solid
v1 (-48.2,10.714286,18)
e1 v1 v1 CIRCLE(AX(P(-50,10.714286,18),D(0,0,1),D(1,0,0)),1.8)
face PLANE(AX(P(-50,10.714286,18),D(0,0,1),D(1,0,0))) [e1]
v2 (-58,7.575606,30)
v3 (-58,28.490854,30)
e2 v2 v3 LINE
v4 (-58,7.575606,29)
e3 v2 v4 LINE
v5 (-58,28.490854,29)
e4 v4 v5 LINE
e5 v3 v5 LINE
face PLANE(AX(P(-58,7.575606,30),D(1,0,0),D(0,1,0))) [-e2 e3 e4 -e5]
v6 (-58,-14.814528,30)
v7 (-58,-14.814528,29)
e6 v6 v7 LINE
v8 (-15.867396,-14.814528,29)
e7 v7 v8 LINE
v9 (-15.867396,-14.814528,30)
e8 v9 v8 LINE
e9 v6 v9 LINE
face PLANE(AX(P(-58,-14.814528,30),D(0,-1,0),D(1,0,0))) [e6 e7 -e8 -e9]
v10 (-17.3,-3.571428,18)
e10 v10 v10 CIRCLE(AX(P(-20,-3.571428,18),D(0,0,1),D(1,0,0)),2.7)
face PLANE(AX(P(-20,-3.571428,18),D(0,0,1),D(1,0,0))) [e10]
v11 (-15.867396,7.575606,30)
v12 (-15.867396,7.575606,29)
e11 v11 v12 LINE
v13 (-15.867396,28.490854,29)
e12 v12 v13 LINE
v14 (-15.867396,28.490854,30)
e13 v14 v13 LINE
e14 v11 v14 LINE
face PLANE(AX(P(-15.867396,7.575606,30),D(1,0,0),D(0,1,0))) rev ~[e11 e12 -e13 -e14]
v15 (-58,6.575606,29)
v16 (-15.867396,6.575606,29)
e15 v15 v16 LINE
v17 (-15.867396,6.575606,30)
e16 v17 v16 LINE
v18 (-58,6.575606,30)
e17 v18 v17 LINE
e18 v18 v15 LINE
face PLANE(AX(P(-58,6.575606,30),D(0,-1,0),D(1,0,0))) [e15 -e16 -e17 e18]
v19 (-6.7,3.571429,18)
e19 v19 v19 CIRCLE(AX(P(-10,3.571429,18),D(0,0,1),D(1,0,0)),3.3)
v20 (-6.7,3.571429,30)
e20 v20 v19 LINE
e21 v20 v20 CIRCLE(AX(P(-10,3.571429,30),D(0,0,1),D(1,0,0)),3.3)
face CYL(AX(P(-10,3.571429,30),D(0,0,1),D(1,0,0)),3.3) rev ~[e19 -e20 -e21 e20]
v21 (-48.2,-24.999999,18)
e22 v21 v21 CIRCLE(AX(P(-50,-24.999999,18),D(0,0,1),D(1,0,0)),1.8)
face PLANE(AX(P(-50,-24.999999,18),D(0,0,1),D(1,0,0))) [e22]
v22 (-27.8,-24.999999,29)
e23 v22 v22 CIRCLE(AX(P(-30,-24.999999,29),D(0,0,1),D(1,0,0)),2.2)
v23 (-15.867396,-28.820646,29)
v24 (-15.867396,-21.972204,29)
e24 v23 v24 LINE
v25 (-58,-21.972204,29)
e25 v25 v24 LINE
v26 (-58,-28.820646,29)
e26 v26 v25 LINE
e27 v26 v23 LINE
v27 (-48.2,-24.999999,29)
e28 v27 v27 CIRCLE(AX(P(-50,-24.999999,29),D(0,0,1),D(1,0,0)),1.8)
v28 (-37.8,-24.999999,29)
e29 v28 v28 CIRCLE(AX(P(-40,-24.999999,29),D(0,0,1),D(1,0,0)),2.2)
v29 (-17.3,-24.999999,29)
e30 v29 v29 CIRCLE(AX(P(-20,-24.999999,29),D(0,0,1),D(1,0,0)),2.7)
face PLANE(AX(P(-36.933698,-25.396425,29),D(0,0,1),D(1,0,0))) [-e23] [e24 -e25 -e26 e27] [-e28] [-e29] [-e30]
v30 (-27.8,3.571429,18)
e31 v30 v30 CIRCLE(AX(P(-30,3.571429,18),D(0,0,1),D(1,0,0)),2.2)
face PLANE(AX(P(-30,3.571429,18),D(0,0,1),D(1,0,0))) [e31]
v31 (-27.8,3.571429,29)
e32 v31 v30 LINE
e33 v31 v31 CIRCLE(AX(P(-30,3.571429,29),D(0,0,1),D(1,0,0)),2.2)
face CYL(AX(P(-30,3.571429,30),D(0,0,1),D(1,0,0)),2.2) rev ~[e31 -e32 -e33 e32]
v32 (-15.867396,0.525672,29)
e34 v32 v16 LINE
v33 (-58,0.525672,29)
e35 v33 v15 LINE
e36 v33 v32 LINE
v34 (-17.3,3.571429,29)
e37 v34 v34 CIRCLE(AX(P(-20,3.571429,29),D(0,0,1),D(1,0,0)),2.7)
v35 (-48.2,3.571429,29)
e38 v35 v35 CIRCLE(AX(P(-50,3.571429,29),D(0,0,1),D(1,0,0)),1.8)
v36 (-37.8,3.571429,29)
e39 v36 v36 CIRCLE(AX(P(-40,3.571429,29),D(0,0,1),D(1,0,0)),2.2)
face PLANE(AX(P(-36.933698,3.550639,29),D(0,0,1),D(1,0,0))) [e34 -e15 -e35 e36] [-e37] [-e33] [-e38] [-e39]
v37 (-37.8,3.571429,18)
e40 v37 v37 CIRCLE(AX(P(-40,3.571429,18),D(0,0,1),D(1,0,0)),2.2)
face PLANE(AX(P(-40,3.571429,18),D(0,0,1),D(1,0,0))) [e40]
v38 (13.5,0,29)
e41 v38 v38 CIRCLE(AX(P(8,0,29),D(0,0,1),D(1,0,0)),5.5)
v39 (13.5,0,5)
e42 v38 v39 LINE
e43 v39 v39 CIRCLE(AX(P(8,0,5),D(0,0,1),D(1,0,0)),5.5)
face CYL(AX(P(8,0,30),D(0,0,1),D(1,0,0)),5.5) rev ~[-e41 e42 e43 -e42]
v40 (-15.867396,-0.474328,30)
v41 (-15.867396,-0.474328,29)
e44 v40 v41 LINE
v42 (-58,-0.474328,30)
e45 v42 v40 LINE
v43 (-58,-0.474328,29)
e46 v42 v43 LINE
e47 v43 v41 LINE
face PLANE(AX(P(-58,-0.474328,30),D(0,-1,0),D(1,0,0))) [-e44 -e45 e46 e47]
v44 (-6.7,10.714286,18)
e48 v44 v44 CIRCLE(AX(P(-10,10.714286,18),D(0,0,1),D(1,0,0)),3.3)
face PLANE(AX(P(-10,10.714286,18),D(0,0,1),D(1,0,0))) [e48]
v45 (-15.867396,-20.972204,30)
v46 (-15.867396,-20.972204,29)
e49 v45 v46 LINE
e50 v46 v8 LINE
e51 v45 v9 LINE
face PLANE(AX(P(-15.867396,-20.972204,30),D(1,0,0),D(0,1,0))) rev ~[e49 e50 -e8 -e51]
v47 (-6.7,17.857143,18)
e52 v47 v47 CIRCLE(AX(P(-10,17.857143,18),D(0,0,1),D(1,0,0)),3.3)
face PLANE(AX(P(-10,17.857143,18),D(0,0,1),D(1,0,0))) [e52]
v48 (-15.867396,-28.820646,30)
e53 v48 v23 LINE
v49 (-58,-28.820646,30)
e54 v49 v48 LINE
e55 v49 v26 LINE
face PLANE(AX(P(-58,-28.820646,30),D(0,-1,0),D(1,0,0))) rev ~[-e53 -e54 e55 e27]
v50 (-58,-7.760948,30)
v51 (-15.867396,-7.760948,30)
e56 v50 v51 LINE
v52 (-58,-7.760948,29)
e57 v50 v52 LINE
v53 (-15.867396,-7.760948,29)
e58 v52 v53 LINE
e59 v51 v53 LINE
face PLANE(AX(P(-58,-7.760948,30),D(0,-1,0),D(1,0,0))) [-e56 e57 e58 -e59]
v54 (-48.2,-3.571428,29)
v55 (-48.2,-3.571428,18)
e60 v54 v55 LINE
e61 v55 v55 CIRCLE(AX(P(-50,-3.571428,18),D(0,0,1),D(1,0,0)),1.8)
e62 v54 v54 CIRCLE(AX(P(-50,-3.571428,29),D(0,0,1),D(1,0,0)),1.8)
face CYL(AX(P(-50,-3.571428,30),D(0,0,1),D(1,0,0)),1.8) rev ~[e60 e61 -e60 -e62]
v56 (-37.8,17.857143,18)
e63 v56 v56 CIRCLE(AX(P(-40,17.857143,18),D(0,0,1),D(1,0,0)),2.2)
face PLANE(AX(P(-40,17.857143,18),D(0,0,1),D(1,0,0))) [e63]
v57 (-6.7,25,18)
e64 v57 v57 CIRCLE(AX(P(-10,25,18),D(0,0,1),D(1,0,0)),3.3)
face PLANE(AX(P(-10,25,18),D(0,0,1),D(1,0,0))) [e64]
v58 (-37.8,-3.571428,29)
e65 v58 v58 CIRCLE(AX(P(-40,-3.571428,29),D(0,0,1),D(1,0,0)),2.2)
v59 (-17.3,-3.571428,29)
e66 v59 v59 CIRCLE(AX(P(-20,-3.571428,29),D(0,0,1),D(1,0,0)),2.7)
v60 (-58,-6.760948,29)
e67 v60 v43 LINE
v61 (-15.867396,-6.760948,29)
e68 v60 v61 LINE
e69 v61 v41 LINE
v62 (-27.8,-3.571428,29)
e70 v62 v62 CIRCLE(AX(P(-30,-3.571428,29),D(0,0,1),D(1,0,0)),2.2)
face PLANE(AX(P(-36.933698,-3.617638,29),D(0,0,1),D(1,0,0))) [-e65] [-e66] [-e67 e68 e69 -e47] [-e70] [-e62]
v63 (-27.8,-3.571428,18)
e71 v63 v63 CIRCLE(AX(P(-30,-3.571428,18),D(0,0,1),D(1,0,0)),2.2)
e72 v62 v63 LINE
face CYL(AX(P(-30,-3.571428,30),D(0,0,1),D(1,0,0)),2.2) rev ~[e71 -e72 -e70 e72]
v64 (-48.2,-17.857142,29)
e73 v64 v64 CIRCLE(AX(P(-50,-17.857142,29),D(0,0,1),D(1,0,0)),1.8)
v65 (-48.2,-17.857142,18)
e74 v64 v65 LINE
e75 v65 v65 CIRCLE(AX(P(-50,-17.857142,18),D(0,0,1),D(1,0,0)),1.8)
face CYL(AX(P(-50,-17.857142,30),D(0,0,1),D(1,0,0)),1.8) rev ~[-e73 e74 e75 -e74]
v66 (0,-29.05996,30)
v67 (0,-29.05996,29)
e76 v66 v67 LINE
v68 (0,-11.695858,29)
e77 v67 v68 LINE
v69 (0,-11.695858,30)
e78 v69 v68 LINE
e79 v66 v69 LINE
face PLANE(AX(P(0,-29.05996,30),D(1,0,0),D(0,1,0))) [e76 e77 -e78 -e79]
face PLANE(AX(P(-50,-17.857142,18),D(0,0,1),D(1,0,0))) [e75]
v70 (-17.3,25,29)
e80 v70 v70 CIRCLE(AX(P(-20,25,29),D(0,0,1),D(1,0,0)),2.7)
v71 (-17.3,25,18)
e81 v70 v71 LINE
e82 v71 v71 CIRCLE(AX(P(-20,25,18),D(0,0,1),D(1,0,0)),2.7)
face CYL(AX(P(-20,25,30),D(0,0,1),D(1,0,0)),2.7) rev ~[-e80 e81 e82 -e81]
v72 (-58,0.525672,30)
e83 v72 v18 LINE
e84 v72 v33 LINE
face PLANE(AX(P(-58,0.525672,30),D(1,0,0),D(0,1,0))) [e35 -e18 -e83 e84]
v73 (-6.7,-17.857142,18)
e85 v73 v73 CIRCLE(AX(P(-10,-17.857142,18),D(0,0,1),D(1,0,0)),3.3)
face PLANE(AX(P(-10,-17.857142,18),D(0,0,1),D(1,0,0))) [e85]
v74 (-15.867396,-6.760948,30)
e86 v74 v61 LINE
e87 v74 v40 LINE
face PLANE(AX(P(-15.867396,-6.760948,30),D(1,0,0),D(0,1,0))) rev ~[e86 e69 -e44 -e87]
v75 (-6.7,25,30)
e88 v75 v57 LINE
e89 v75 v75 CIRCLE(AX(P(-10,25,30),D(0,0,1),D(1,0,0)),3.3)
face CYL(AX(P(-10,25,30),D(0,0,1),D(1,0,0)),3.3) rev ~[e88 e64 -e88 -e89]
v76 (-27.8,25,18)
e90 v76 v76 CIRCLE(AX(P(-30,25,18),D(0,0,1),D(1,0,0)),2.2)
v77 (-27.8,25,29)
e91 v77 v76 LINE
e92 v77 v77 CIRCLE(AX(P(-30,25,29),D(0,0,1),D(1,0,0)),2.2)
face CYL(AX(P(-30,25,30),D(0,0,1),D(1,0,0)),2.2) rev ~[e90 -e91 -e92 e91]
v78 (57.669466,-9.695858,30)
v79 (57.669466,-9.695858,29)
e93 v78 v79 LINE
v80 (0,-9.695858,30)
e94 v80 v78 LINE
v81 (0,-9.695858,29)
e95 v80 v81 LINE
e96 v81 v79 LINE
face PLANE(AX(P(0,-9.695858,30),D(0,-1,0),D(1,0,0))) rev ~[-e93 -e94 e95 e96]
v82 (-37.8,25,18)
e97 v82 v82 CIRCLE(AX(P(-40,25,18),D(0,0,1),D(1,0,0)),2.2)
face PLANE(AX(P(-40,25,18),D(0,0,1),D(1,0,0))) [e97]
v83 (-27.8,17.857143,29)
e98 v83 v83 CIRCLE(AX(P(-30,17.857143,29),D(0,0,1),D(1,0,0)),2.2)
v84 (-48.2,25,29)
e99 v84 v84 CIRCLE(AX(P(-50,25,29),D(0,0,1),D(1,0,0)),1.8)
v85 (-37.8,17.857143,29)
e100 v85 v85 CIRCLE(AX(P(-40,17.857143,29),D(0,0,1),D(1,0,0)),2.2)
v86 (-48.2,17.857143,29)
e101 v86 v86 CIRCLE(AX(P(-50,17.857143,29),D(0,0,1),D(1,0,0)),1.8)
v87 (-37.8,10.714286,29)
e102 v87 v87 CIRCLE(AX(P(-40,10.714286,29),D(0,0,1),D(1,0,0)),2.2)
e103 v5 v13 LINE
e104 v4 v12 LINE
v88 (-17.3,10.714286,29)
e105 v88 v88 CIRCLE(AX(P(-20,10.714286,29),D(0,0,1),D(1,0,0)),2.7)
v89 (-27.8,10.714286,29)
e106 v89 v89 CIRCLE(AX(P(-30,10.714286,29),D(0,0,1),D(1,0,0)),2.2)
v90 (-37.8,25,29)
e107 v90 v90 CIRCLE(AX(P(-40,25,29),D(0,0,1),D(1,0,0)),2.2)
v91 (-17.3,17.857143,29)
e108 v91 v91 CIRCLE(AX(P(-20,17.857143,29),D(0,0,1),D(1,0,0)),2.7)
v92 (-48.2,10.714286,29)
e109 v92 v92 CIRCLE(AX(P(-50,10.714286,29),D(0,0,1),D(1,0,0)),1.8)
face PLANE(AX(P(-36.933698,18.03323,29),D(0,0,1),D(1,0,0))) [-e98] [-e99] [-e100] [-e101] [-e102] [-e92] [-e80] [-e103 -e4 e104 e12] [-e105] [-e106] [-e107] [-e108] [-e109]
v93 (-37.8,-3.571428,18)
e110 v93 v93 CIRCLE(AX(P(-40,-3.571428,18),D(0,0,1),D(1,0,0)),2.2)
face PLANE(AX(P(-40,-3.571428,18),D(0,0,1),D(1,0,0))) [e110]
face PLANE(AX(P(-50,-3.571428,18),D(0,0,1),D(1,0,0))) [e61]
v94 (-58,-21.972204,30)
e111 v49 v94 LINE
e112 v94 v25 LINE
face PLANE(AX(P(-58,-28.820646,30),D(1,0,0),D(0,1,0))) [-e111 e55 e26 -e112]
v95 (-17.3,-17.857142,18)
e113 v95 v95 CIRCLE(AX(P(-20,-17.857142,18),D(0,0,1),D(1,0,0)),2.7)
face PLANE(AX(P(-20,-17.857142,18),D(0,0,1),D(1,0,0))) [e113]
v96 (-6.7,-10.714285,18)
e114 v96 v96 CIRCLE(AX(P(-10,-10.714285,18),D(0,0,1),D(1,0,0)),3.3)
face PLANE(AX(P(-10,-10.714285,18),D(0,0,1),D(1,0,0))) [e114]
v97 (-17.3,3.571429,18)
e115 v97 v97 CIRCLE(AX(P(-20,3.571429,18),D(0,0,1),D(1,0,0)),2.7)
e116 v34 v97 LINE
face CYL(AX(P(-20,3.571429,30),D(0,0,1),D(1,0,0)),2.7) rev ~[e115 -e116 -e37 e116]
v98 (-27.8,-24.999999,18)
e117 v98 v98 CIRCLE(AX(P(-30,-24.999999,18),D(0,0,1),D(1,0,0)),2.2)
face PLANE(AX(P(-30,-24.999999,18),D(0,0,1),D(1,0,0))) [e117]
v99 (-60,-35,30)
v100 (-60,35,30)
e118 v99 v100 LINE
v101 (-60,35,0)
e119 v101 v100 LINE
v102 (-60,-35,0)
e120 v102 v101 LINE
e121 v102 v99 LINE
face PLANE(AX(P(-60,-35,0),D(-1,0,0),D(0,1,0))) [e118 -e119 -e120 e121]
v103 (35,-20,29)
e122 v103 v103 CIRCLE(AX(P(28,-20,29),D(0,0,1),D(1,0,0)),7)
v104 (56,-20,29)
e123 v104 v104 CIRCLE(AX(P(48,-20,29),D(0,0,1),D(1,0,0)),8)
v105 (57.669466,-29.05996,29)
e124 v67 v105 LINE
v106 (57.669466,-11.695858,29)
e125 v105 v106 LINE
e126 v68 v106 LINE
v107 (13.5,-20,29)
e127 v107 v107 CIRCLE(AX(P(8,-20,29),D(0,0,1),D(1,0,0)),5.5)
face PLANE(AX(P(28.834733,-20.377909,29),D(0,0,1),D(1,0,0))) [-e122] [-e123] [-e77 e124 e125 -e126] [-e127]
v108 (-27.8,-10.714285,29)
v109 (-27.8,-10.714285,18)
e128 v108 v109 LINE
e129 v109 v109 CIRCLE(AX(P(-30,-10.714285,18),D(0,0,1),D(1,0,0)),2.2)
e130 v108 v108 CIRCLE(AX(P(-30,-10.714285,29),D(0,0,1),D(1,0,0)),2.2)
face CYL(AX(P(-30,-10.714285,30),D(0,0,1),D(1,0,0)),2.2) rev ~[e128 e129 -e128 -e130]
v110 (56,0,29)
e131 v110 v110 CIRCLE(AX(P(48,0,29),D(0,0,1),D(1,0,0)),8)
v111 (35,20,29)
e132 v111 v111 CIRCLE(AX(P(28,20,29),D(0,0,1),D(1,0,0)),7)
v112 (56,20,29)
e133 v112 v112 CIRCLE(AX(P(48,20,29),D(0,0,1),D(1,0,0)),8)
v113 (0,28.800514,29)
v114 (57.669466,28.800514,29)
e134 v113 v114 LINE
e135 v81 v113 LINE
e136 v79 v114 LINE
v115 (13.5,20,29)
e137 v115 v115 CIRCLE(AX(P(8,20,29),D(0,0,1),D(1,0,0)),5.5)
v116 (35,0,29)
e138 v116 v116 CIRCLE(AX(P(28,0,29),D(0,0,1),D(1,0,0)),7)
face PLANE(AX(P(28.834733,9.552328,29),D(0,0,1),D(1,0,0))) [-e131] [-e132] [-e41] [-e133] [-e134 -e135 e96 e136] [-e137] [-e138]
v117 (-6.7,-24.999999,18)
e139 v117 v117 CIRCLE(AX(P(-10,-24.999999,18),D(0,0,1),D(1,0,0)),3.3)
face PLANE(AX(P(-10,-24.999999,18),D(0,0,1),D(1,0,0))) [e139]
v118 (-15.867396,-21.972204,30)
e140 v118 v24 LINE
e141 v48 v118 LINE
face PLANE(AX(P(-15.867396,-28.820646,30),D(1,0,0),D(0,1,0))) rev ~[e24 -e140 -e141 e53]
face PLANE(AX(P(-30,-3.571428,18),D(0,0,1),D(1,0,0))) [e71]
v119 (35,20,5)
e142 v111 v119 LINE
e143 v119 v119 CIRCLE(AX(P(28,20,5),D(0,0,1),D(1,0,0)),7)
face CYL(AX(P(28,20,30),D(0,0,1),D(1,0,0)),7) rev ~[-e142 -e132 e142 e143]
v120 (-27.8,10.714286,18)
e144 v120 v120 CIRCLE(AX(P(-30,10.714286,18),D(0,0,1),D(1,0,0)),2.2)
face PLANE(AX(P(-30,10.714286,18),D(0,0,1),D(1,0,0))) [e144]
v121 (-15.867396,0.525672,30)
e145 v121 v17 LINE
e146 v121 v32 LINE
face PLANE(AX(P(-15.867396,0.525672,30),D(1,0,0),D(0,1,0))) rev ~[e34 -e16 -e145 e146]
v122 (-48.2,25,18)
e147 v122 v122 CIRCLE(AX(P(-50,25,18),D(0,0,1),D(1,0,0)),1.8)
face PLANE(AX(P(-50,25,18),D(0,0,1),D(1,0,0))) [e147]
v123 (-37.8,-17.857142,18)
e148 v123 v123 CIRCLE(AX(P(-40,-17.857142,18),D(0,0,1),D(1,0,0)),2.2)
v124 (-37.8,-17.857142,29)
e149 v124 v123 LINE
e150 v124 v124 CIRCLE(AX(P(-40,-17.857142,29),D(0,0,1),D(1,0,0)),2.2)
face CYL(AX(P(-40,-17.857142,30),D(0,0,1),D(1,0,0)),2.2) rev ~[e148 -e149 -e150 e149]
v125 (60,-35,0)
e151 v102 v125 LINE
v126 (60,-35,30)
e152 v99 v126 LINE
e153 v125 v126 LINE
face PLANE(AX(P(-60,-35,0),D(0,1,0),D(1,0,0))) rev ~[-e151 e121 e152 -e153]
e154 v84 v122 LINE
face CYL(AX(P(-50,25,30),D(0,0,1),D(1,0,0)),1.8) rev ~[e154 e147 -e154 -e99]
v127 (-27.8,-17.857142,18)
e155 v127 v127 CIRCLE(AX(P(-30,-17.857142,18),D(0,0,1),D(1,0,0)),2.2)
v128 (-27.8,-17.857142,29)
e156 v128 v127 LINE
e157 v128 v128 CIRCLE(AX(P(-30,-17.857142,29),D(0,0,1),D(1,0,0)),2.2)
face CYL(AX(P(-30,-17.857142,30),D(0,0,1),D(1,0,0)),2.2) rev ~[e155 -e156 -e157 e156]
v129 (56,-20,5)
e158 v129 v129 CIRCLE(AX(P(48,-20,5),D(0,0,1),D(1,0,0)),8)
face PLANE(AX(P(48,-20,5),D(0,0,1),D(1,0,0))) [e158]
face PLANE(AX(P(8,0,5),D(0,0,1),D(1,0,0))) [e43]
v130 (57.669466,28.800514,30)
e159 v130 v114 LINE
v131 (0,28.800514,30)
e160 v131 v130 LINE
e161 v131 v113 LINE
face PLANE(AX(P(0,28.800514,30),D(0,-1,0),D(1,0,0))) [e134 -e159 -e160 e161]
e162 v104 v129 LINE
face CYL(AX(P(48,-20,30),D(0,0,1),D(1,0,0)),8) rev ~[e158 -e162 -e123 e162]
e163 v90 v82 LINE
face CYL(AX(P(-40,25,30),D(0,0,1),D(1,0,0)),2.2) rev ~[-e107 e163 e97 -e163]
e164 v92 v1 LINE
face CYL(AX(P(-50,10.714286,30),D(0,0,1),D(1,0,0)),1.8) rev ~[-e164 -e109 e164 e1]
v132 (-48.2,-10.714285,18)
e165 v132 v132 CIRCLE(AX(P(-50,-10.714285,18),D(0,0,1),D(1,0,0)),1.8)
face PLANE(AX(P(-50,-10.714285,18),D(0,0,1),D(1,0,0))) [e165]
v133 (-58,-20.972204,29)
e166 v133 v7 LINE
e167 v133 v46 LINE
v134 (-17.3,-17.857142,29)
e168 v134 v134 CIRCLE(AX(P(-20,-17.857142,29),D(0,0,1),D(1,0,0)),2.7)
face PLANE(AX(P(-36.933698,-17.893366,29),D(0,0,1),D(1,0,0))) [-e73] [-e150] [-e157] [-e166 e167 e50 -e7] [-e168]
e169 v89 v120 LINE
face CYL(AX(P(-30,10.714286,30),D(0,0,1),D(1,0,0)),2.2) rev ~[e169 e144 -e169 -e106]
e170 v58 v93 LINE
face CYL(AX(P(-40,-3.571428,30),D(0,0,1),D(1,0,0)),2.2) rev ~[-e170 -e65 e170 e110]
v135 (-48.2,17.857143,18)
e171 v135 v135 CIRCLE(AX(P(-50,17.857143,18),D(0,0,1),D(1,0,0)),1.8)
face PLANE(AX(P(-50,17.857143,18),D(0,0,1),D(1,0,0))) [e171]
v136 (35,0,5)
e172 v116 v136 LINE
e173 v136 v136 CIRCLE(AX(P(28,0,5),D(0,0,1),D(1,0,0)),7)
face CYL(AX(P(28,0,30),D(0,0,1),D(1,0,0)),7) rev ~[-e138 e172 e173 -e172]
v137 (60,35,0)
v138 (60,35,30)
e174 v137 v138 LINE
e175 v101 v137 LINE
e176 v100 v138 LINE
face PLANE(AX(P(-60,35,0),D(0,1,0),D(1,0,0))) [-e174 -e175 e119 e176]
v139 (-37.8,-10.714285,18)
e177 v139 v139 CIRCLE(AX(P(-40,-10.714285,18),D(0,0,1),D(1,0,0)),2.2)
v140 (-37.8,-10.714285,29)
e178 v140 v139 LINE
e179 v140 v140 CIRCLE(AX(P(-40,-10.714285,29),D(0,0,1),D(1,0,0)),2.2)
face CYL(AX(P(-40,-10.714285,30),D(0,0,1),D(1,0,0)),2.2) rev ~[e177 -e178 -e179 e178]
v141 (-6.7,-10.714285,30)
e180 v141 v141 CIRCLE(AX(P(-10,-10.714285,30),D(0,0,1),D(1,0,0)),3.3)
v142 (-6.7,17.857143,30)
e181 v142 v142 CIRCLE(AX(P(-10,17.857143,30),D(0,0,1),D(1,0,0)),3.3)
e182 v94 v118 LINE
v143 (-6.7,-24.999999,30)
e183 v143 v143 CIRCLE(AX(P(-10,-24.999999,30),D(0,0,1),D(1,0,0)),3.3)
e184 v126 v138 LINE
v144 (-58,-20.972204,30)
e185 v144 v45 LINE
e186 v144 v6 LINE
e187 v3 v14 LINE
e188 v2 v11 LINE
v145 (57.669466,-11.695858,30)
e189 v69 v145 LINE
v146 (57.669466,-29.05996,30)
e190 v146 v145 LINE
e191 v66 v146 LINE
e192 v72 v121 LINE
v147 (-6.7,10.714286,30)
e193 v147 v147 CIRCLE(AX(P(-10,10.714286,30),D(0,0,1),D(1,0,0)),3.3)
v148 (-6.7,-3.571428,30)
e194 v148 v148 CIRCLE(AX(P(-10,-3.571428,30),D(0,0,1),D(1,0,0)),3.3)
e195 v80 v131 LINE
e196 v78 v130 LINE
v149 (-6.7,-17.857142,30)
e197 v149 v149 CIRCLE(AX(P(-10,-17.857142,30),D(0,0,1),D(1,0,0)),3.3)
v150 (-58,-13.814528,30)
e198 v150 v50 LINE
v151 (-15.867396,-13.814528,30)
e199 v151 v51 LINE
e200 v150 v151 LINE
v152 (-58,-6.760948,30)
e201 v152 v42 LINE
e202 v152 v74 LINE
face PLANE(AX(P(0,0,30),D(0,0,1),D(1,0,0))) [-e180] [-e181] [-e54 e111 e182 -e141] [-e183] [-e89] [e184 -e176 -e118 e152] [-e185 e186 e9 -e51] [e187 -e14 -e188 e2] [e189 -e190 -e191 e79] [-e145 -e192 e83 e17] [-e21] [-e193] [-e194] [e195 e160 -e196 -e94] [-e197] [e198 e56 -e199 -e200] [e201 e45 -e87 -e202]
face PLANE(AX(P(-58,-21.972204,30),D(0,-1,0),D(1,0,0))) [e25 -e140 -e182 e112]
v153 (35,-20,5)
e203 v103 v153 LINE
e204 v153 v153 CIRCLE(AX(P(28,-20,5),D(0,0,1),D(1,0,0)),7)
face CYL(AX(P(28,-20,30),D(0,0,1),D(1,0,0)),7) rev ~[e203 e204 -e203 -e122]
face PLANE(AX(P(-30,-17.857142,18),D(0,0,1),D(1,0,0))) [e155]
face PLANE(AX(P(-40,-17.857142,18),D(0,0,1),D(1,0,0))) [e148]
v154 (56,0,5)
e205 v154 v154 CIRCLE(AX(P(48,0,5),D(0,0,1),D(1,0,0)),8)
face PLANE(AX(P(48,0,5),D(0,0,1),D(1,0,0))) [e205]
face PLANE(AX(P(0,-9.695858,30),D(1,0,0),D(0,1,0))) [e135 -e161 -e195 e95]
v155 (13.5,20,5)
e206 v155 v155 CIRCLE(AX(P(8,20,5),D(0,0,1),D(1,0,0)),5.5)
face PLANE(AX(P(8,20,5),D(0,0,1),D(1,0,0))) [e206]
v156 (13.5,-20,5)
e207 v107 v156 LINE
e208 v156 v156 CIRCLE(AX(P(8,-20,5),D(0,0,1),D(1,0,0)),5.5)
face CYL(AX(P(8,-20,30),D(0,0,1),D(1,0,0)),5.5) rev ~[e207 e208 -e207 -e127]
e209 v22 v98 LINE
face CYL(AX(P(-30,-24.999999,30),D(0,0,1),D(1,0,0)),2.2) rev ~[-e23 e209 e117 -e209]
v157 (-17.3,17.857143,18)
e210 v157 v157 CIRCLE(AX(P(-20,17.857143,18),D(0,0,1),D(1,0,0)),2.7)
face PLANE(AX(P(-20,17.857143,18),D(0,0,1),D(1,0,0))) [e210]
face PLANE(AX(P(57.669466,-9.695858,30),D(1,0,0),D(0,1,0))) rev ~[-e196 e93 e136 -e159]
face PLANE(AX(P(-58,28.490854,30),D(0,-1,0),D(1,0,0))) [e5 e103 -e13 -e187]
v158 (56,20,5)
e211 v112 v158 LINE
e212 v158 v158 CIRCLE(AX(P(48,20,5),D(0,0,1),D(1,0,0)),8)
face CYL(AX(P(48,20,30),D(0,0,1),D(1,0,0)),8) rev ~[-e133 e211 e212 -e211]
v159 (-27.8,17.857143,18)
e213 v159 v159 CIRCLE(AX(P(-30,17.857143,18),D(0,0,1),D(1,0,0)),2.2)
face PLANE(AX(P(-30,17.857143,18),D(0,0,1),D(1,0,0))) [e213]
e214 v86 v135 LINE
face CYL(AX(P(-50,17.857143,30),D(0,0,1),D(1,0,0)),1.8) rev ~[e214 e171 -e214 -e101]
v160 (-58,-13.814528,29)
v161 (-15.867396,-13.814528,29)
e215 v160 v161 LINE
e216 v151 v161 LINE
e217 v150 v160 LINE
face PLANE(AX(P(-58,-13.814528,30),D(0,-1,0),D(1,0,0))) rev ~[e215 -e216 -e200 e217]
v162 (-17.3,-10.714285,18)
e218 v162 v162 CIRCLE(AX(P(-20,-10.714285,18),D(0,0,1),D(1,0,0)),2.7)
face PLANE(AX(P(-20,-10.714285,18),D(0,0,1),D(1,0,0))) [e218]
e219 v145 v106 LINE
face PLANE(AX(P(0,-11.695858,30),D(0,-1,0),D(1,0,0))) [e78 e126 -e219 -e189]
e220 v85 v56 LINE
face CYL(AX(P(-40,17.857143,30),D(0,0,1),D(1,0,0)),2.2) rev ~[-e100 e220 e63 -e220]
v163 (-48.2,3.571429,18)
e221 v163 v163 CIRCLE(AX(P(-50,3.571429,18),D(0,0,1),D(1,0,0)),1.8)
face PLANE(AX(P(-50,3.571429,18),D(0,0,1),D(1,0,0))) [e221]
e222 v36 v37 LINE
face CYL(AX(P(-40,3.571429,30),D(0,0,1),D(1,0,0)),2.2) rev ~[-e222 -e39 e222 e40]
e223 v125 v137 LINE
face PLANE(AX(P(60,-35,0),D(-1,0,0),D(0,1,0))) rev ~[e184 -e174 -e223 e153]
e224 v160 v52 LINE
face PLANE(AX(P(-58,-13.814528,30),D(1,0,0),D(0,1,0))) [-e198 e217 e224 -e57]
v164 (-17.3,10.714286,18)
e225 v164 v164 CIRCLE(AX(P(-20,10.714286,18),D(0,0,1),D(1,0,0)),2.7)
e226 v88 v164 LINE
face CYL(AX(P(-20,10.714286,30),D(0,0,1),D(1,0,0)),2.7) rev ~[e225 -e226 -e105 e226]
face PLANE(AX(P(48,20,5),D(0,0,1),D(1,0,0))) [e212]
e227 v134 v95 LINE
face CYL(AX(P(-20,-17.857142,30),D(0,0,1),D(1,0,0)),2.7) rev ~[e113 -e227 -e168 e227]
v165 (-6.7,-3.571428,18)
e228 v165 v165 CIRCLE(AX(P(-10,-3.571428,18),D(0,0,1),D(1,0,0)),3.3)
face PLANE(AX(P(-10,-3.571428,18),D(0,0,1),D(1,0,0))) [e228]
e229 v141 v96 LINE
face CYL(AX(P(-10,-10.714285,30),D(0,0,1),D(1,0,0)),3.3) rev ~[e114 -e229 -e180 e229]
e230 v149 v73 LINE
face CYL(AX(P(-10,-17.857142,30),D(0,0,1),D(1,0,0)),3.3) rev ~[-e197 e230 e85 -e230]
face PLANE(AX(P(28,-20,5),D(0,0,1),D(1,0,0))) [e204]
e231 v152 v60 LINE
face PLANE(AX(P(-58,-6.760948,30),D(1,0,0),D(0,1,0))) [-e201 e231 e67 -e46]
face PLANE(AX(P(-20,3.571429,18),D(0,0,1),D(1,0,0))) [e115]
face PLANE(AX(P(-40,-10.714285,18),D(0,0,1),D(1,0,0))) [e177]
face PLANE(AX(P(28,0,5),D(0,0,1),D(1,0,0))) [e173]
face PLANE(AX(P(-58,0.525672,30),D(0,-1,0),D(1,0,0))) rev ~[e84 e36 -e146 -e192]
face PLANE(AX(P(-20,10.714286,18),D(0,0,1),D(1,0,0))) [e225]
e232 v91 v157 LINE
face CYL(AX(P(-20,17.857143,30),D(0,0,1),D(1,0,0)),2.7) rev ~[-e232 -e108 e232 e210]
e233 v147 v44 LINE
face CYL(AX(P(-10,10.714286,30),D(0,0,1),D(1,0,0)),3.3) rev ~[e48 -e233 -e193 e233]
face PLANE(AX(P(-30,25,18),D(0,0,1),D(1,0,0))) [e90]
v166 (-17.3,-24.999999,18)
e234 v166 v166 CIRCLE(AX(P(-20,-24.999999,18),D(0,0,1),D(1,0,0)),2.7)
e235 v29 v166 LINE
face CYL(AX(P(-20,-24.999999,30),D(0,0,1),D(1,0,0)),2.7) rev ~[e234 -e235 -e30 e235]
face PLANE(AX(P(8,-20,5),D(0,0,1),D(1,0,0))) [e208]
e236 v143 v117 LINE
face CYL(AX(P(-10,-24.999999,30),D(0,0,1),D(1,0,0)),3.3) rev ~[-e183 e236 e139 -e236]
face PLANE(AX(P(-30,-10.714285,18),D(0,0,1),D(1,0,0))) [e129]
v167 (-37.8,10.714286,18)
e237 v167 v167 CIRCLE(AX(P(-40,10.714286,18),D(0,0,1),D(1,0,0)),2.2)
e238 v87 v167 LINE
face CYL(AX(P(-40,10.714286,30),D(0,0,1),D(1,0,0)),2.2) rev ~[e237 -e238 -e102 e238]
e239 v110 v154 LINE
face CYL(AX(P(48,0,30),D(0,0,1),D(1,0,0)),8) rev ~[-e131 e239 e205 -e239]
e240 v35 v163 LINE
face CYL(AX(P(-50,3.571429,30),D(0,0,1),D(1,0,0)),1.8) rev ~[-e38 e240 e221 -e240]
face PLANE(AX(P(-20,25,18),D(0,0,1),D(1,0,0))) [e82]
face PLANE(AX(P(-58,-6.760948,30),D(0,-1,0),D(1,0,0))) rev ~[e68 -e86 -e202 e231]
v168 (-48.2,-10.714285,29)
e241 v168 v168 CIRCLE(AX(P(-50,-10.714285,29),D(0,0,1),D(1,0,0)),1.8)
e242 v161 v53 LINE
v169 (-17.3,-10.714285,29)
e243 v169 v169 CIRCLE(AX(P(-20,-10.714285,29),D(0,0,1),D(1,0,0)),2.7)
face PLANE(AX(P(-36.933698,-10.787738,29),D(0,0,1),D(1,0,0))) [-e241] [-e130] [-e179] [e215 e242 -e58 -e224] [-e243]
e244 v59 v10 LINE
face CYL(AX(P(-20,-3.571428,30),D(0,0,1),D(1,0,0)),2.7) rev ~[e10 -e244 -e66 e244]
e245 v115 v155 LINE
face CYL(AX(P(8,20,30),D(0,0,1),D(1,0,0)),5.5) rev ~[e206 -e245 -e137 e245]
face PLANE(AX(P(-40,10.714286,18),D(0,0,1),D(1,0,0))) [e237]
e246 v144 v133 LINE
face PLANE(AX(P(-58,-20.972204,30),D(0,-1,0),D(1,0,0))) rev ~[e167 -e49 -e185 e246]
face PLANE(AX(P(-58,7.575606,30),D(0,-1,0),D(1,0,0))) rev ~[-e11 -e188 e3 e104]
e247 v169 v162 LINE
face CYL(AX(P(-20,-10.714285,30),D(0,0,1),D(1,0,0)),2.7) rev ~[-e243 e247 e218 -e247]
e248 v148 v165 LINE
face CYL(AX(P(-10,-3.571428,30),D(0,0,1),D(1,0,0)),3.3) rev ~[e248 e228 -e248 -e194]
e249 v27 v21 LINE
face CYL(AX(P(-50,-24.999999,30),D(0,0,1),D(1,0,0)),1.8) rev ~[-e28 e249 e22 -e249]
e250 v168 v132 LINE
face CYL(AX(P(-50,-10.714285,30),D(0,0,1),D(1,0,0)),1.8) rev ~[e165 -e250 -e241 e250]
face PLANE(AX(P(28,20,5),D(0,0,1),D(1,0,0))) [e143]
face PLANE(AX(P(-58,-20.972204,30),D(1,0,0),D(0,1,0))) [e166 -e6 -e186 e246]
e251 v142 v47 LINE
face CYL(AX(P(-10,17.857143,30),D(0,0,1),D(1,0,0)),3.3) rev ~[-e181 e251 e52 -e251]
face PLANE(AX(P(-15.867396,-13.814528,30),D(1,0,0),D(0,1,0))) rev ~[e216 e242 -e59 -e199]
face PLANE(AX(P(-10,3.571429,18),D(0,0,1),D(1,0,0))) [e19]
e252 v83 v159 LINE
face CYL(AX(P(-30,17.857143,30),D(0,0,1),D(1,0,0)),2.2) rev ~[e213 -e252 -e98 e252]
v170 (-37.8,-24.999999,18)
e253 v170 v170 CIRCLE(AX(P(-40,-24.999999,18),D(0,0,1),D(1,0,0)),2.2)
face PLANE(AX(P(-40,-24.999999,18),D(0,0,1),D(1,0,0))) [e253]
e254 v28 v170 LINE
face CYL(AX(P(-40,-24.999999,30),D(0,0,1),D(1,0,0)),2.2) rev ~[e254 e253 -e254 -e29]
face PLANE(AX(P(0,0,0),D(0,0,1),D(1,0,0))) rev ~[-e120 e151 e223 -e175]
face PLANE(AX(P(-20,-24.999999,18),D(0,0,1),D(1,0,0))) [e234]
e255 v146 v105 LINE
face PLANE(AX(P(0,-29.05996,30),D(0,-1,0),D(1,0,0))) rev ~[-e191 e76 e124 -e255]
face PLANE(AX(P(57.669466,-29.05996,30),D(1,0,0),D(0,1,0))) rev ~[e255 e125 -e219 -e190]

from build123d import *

# Parameters (mm, degrees)
SKETCH_W               = 120
SKETCH_H               = 70
PAD_DEPTH              = 30
SKETCH001_R            = 2.2
SKETCH001_R_2          = 3.3
SKETCH001_R_3          = 2.7
SKETCH001_R_4          = 1.8
POCKET_DEPTH           = 12
LINEARPATTERN_COUNT    = 8
LINEARPATTERN_PITCH    = 7.142857
SKETCH002_R            = 5.5
SKETCH002_R_2          = 7
SKETCH002_R_3          = 8
POCKET001_DEPTH        = 25
LINEARPATTERN001_COUNT = 3
LINEARPATTERN001_PITCH = 20
SKETCH003_W            = 42.132603
SKETCH003_H            = 20.915248
SKETCH003_H_2          = 6.049934
SKETCH003_H_3          = 6.286621
SKETCH003_H_4          = 6.053579
SKETCH003_H_5          = 6.157676
SKETCH003_H_6          = 6.848442
SKETCH003_W_2          = 57.669466
SKETCH003_H_7          = 38.496372
SKETCH003_H_8          = 17.364103
POCKET002_DEPTH        = 1


with BuildPart() as part:
    # Sketch → Pad (new body)
    with BuildSketch(Plane.XY):
        Rectangle(SKETCH_W, SKETCH_H)
    extrude(amount=PAD_DEPTH)

    # Sketch001 → Pocket (cut)
    with BuildSketch(Plane.XY.offset(30)):
        with Locations((-40, 25)):
            Circle(SKETCH001_R)
        with Locations((-10, 25)):
            Circle(SKETCH001_R_2)
        with Locations((-30, 25)):
            Circle(SKETCH001_R)
        with Locations((-20, 25)):
            Circle(SKETCH001_R_3)
        with Locations((-50, 25)):
            Circle(SKETCH001_R_4)
    pocket = extrude(amount=-POCKET_DEPTH, mode=Mode.SUBTRACT)

    # LinearPattern: Pocket ×8
    with Locations(*[(0, -i * LINEARPATTERN_PITCH, 0) for i in range(1, LINEARPATTERN_COUNT)]):
        add(pocket, mode=Mode.SUBTRACT)

    # Sketch002 → Pocket001 (cut)
    with BuildSketch(Plane.XY.offset(30)):
        with Locations((8, -20)):
            Circle(SKETCH002_R)
        with Locations((28, -20)):
            Circle(SKETCH002_R_2)
        with Locations((48, -20)):
            Circle(SKETCH002_R_3)
    pocket001 = extrude(amount=-POCKET001_DEPTH, mode=Mode.SUBTRACT)

    # LinearPattern001: Pocket001 ×3
    with Locations(*[(0, i * LINEARPATTERN001_PITCH, 0) for i in range(1, LINEARPATTERN001_COUNT)]):
        add(pocket001, mode=Mode.SUBTRACT)

    # Sketch003 → Pocket002 (cut)
    with BuildSketch(Plane.XY.offset(30)):
        with Locations((-36.933698, 18.03323)):
            Rectangle(SKETCH003_W, SKETCH003_H)
        with Locations((-36.933698, 3.550639)):
            Rectangle(SKETCH003_W, SKETCH003_H_2)
        with Locations((-36.933698, -3.617638)):
            Rectangle(SKETCH003_W, SKETCH003_H_3)
        with Locations((-36.933698, -10.787738)):
            Rectangle(SKETCH003_W, SKETCH003_H_4)
        with Locations((-36.933698, -17.893366)):
            Rectangle(SKETCH003_W, SKETCH003_H_5)
        with Locations((-36.933698, -25.396425)):
            Rectangle(SKETCH003_W, SKETCH003_H_6)
        with Locations((28.834733, 9.552328)):
            Rectangle(SKETCH003_W_2, SKETCH003_H_7)
        with Locations((28.834733, -20.377909)):
            Rectangle(SKETCH003_W_2, SKETCH003_H_8)
    extrude(amount=-POCKET002_DEPTH, mode=Mode.SUBTRACT)


solid = part.part
